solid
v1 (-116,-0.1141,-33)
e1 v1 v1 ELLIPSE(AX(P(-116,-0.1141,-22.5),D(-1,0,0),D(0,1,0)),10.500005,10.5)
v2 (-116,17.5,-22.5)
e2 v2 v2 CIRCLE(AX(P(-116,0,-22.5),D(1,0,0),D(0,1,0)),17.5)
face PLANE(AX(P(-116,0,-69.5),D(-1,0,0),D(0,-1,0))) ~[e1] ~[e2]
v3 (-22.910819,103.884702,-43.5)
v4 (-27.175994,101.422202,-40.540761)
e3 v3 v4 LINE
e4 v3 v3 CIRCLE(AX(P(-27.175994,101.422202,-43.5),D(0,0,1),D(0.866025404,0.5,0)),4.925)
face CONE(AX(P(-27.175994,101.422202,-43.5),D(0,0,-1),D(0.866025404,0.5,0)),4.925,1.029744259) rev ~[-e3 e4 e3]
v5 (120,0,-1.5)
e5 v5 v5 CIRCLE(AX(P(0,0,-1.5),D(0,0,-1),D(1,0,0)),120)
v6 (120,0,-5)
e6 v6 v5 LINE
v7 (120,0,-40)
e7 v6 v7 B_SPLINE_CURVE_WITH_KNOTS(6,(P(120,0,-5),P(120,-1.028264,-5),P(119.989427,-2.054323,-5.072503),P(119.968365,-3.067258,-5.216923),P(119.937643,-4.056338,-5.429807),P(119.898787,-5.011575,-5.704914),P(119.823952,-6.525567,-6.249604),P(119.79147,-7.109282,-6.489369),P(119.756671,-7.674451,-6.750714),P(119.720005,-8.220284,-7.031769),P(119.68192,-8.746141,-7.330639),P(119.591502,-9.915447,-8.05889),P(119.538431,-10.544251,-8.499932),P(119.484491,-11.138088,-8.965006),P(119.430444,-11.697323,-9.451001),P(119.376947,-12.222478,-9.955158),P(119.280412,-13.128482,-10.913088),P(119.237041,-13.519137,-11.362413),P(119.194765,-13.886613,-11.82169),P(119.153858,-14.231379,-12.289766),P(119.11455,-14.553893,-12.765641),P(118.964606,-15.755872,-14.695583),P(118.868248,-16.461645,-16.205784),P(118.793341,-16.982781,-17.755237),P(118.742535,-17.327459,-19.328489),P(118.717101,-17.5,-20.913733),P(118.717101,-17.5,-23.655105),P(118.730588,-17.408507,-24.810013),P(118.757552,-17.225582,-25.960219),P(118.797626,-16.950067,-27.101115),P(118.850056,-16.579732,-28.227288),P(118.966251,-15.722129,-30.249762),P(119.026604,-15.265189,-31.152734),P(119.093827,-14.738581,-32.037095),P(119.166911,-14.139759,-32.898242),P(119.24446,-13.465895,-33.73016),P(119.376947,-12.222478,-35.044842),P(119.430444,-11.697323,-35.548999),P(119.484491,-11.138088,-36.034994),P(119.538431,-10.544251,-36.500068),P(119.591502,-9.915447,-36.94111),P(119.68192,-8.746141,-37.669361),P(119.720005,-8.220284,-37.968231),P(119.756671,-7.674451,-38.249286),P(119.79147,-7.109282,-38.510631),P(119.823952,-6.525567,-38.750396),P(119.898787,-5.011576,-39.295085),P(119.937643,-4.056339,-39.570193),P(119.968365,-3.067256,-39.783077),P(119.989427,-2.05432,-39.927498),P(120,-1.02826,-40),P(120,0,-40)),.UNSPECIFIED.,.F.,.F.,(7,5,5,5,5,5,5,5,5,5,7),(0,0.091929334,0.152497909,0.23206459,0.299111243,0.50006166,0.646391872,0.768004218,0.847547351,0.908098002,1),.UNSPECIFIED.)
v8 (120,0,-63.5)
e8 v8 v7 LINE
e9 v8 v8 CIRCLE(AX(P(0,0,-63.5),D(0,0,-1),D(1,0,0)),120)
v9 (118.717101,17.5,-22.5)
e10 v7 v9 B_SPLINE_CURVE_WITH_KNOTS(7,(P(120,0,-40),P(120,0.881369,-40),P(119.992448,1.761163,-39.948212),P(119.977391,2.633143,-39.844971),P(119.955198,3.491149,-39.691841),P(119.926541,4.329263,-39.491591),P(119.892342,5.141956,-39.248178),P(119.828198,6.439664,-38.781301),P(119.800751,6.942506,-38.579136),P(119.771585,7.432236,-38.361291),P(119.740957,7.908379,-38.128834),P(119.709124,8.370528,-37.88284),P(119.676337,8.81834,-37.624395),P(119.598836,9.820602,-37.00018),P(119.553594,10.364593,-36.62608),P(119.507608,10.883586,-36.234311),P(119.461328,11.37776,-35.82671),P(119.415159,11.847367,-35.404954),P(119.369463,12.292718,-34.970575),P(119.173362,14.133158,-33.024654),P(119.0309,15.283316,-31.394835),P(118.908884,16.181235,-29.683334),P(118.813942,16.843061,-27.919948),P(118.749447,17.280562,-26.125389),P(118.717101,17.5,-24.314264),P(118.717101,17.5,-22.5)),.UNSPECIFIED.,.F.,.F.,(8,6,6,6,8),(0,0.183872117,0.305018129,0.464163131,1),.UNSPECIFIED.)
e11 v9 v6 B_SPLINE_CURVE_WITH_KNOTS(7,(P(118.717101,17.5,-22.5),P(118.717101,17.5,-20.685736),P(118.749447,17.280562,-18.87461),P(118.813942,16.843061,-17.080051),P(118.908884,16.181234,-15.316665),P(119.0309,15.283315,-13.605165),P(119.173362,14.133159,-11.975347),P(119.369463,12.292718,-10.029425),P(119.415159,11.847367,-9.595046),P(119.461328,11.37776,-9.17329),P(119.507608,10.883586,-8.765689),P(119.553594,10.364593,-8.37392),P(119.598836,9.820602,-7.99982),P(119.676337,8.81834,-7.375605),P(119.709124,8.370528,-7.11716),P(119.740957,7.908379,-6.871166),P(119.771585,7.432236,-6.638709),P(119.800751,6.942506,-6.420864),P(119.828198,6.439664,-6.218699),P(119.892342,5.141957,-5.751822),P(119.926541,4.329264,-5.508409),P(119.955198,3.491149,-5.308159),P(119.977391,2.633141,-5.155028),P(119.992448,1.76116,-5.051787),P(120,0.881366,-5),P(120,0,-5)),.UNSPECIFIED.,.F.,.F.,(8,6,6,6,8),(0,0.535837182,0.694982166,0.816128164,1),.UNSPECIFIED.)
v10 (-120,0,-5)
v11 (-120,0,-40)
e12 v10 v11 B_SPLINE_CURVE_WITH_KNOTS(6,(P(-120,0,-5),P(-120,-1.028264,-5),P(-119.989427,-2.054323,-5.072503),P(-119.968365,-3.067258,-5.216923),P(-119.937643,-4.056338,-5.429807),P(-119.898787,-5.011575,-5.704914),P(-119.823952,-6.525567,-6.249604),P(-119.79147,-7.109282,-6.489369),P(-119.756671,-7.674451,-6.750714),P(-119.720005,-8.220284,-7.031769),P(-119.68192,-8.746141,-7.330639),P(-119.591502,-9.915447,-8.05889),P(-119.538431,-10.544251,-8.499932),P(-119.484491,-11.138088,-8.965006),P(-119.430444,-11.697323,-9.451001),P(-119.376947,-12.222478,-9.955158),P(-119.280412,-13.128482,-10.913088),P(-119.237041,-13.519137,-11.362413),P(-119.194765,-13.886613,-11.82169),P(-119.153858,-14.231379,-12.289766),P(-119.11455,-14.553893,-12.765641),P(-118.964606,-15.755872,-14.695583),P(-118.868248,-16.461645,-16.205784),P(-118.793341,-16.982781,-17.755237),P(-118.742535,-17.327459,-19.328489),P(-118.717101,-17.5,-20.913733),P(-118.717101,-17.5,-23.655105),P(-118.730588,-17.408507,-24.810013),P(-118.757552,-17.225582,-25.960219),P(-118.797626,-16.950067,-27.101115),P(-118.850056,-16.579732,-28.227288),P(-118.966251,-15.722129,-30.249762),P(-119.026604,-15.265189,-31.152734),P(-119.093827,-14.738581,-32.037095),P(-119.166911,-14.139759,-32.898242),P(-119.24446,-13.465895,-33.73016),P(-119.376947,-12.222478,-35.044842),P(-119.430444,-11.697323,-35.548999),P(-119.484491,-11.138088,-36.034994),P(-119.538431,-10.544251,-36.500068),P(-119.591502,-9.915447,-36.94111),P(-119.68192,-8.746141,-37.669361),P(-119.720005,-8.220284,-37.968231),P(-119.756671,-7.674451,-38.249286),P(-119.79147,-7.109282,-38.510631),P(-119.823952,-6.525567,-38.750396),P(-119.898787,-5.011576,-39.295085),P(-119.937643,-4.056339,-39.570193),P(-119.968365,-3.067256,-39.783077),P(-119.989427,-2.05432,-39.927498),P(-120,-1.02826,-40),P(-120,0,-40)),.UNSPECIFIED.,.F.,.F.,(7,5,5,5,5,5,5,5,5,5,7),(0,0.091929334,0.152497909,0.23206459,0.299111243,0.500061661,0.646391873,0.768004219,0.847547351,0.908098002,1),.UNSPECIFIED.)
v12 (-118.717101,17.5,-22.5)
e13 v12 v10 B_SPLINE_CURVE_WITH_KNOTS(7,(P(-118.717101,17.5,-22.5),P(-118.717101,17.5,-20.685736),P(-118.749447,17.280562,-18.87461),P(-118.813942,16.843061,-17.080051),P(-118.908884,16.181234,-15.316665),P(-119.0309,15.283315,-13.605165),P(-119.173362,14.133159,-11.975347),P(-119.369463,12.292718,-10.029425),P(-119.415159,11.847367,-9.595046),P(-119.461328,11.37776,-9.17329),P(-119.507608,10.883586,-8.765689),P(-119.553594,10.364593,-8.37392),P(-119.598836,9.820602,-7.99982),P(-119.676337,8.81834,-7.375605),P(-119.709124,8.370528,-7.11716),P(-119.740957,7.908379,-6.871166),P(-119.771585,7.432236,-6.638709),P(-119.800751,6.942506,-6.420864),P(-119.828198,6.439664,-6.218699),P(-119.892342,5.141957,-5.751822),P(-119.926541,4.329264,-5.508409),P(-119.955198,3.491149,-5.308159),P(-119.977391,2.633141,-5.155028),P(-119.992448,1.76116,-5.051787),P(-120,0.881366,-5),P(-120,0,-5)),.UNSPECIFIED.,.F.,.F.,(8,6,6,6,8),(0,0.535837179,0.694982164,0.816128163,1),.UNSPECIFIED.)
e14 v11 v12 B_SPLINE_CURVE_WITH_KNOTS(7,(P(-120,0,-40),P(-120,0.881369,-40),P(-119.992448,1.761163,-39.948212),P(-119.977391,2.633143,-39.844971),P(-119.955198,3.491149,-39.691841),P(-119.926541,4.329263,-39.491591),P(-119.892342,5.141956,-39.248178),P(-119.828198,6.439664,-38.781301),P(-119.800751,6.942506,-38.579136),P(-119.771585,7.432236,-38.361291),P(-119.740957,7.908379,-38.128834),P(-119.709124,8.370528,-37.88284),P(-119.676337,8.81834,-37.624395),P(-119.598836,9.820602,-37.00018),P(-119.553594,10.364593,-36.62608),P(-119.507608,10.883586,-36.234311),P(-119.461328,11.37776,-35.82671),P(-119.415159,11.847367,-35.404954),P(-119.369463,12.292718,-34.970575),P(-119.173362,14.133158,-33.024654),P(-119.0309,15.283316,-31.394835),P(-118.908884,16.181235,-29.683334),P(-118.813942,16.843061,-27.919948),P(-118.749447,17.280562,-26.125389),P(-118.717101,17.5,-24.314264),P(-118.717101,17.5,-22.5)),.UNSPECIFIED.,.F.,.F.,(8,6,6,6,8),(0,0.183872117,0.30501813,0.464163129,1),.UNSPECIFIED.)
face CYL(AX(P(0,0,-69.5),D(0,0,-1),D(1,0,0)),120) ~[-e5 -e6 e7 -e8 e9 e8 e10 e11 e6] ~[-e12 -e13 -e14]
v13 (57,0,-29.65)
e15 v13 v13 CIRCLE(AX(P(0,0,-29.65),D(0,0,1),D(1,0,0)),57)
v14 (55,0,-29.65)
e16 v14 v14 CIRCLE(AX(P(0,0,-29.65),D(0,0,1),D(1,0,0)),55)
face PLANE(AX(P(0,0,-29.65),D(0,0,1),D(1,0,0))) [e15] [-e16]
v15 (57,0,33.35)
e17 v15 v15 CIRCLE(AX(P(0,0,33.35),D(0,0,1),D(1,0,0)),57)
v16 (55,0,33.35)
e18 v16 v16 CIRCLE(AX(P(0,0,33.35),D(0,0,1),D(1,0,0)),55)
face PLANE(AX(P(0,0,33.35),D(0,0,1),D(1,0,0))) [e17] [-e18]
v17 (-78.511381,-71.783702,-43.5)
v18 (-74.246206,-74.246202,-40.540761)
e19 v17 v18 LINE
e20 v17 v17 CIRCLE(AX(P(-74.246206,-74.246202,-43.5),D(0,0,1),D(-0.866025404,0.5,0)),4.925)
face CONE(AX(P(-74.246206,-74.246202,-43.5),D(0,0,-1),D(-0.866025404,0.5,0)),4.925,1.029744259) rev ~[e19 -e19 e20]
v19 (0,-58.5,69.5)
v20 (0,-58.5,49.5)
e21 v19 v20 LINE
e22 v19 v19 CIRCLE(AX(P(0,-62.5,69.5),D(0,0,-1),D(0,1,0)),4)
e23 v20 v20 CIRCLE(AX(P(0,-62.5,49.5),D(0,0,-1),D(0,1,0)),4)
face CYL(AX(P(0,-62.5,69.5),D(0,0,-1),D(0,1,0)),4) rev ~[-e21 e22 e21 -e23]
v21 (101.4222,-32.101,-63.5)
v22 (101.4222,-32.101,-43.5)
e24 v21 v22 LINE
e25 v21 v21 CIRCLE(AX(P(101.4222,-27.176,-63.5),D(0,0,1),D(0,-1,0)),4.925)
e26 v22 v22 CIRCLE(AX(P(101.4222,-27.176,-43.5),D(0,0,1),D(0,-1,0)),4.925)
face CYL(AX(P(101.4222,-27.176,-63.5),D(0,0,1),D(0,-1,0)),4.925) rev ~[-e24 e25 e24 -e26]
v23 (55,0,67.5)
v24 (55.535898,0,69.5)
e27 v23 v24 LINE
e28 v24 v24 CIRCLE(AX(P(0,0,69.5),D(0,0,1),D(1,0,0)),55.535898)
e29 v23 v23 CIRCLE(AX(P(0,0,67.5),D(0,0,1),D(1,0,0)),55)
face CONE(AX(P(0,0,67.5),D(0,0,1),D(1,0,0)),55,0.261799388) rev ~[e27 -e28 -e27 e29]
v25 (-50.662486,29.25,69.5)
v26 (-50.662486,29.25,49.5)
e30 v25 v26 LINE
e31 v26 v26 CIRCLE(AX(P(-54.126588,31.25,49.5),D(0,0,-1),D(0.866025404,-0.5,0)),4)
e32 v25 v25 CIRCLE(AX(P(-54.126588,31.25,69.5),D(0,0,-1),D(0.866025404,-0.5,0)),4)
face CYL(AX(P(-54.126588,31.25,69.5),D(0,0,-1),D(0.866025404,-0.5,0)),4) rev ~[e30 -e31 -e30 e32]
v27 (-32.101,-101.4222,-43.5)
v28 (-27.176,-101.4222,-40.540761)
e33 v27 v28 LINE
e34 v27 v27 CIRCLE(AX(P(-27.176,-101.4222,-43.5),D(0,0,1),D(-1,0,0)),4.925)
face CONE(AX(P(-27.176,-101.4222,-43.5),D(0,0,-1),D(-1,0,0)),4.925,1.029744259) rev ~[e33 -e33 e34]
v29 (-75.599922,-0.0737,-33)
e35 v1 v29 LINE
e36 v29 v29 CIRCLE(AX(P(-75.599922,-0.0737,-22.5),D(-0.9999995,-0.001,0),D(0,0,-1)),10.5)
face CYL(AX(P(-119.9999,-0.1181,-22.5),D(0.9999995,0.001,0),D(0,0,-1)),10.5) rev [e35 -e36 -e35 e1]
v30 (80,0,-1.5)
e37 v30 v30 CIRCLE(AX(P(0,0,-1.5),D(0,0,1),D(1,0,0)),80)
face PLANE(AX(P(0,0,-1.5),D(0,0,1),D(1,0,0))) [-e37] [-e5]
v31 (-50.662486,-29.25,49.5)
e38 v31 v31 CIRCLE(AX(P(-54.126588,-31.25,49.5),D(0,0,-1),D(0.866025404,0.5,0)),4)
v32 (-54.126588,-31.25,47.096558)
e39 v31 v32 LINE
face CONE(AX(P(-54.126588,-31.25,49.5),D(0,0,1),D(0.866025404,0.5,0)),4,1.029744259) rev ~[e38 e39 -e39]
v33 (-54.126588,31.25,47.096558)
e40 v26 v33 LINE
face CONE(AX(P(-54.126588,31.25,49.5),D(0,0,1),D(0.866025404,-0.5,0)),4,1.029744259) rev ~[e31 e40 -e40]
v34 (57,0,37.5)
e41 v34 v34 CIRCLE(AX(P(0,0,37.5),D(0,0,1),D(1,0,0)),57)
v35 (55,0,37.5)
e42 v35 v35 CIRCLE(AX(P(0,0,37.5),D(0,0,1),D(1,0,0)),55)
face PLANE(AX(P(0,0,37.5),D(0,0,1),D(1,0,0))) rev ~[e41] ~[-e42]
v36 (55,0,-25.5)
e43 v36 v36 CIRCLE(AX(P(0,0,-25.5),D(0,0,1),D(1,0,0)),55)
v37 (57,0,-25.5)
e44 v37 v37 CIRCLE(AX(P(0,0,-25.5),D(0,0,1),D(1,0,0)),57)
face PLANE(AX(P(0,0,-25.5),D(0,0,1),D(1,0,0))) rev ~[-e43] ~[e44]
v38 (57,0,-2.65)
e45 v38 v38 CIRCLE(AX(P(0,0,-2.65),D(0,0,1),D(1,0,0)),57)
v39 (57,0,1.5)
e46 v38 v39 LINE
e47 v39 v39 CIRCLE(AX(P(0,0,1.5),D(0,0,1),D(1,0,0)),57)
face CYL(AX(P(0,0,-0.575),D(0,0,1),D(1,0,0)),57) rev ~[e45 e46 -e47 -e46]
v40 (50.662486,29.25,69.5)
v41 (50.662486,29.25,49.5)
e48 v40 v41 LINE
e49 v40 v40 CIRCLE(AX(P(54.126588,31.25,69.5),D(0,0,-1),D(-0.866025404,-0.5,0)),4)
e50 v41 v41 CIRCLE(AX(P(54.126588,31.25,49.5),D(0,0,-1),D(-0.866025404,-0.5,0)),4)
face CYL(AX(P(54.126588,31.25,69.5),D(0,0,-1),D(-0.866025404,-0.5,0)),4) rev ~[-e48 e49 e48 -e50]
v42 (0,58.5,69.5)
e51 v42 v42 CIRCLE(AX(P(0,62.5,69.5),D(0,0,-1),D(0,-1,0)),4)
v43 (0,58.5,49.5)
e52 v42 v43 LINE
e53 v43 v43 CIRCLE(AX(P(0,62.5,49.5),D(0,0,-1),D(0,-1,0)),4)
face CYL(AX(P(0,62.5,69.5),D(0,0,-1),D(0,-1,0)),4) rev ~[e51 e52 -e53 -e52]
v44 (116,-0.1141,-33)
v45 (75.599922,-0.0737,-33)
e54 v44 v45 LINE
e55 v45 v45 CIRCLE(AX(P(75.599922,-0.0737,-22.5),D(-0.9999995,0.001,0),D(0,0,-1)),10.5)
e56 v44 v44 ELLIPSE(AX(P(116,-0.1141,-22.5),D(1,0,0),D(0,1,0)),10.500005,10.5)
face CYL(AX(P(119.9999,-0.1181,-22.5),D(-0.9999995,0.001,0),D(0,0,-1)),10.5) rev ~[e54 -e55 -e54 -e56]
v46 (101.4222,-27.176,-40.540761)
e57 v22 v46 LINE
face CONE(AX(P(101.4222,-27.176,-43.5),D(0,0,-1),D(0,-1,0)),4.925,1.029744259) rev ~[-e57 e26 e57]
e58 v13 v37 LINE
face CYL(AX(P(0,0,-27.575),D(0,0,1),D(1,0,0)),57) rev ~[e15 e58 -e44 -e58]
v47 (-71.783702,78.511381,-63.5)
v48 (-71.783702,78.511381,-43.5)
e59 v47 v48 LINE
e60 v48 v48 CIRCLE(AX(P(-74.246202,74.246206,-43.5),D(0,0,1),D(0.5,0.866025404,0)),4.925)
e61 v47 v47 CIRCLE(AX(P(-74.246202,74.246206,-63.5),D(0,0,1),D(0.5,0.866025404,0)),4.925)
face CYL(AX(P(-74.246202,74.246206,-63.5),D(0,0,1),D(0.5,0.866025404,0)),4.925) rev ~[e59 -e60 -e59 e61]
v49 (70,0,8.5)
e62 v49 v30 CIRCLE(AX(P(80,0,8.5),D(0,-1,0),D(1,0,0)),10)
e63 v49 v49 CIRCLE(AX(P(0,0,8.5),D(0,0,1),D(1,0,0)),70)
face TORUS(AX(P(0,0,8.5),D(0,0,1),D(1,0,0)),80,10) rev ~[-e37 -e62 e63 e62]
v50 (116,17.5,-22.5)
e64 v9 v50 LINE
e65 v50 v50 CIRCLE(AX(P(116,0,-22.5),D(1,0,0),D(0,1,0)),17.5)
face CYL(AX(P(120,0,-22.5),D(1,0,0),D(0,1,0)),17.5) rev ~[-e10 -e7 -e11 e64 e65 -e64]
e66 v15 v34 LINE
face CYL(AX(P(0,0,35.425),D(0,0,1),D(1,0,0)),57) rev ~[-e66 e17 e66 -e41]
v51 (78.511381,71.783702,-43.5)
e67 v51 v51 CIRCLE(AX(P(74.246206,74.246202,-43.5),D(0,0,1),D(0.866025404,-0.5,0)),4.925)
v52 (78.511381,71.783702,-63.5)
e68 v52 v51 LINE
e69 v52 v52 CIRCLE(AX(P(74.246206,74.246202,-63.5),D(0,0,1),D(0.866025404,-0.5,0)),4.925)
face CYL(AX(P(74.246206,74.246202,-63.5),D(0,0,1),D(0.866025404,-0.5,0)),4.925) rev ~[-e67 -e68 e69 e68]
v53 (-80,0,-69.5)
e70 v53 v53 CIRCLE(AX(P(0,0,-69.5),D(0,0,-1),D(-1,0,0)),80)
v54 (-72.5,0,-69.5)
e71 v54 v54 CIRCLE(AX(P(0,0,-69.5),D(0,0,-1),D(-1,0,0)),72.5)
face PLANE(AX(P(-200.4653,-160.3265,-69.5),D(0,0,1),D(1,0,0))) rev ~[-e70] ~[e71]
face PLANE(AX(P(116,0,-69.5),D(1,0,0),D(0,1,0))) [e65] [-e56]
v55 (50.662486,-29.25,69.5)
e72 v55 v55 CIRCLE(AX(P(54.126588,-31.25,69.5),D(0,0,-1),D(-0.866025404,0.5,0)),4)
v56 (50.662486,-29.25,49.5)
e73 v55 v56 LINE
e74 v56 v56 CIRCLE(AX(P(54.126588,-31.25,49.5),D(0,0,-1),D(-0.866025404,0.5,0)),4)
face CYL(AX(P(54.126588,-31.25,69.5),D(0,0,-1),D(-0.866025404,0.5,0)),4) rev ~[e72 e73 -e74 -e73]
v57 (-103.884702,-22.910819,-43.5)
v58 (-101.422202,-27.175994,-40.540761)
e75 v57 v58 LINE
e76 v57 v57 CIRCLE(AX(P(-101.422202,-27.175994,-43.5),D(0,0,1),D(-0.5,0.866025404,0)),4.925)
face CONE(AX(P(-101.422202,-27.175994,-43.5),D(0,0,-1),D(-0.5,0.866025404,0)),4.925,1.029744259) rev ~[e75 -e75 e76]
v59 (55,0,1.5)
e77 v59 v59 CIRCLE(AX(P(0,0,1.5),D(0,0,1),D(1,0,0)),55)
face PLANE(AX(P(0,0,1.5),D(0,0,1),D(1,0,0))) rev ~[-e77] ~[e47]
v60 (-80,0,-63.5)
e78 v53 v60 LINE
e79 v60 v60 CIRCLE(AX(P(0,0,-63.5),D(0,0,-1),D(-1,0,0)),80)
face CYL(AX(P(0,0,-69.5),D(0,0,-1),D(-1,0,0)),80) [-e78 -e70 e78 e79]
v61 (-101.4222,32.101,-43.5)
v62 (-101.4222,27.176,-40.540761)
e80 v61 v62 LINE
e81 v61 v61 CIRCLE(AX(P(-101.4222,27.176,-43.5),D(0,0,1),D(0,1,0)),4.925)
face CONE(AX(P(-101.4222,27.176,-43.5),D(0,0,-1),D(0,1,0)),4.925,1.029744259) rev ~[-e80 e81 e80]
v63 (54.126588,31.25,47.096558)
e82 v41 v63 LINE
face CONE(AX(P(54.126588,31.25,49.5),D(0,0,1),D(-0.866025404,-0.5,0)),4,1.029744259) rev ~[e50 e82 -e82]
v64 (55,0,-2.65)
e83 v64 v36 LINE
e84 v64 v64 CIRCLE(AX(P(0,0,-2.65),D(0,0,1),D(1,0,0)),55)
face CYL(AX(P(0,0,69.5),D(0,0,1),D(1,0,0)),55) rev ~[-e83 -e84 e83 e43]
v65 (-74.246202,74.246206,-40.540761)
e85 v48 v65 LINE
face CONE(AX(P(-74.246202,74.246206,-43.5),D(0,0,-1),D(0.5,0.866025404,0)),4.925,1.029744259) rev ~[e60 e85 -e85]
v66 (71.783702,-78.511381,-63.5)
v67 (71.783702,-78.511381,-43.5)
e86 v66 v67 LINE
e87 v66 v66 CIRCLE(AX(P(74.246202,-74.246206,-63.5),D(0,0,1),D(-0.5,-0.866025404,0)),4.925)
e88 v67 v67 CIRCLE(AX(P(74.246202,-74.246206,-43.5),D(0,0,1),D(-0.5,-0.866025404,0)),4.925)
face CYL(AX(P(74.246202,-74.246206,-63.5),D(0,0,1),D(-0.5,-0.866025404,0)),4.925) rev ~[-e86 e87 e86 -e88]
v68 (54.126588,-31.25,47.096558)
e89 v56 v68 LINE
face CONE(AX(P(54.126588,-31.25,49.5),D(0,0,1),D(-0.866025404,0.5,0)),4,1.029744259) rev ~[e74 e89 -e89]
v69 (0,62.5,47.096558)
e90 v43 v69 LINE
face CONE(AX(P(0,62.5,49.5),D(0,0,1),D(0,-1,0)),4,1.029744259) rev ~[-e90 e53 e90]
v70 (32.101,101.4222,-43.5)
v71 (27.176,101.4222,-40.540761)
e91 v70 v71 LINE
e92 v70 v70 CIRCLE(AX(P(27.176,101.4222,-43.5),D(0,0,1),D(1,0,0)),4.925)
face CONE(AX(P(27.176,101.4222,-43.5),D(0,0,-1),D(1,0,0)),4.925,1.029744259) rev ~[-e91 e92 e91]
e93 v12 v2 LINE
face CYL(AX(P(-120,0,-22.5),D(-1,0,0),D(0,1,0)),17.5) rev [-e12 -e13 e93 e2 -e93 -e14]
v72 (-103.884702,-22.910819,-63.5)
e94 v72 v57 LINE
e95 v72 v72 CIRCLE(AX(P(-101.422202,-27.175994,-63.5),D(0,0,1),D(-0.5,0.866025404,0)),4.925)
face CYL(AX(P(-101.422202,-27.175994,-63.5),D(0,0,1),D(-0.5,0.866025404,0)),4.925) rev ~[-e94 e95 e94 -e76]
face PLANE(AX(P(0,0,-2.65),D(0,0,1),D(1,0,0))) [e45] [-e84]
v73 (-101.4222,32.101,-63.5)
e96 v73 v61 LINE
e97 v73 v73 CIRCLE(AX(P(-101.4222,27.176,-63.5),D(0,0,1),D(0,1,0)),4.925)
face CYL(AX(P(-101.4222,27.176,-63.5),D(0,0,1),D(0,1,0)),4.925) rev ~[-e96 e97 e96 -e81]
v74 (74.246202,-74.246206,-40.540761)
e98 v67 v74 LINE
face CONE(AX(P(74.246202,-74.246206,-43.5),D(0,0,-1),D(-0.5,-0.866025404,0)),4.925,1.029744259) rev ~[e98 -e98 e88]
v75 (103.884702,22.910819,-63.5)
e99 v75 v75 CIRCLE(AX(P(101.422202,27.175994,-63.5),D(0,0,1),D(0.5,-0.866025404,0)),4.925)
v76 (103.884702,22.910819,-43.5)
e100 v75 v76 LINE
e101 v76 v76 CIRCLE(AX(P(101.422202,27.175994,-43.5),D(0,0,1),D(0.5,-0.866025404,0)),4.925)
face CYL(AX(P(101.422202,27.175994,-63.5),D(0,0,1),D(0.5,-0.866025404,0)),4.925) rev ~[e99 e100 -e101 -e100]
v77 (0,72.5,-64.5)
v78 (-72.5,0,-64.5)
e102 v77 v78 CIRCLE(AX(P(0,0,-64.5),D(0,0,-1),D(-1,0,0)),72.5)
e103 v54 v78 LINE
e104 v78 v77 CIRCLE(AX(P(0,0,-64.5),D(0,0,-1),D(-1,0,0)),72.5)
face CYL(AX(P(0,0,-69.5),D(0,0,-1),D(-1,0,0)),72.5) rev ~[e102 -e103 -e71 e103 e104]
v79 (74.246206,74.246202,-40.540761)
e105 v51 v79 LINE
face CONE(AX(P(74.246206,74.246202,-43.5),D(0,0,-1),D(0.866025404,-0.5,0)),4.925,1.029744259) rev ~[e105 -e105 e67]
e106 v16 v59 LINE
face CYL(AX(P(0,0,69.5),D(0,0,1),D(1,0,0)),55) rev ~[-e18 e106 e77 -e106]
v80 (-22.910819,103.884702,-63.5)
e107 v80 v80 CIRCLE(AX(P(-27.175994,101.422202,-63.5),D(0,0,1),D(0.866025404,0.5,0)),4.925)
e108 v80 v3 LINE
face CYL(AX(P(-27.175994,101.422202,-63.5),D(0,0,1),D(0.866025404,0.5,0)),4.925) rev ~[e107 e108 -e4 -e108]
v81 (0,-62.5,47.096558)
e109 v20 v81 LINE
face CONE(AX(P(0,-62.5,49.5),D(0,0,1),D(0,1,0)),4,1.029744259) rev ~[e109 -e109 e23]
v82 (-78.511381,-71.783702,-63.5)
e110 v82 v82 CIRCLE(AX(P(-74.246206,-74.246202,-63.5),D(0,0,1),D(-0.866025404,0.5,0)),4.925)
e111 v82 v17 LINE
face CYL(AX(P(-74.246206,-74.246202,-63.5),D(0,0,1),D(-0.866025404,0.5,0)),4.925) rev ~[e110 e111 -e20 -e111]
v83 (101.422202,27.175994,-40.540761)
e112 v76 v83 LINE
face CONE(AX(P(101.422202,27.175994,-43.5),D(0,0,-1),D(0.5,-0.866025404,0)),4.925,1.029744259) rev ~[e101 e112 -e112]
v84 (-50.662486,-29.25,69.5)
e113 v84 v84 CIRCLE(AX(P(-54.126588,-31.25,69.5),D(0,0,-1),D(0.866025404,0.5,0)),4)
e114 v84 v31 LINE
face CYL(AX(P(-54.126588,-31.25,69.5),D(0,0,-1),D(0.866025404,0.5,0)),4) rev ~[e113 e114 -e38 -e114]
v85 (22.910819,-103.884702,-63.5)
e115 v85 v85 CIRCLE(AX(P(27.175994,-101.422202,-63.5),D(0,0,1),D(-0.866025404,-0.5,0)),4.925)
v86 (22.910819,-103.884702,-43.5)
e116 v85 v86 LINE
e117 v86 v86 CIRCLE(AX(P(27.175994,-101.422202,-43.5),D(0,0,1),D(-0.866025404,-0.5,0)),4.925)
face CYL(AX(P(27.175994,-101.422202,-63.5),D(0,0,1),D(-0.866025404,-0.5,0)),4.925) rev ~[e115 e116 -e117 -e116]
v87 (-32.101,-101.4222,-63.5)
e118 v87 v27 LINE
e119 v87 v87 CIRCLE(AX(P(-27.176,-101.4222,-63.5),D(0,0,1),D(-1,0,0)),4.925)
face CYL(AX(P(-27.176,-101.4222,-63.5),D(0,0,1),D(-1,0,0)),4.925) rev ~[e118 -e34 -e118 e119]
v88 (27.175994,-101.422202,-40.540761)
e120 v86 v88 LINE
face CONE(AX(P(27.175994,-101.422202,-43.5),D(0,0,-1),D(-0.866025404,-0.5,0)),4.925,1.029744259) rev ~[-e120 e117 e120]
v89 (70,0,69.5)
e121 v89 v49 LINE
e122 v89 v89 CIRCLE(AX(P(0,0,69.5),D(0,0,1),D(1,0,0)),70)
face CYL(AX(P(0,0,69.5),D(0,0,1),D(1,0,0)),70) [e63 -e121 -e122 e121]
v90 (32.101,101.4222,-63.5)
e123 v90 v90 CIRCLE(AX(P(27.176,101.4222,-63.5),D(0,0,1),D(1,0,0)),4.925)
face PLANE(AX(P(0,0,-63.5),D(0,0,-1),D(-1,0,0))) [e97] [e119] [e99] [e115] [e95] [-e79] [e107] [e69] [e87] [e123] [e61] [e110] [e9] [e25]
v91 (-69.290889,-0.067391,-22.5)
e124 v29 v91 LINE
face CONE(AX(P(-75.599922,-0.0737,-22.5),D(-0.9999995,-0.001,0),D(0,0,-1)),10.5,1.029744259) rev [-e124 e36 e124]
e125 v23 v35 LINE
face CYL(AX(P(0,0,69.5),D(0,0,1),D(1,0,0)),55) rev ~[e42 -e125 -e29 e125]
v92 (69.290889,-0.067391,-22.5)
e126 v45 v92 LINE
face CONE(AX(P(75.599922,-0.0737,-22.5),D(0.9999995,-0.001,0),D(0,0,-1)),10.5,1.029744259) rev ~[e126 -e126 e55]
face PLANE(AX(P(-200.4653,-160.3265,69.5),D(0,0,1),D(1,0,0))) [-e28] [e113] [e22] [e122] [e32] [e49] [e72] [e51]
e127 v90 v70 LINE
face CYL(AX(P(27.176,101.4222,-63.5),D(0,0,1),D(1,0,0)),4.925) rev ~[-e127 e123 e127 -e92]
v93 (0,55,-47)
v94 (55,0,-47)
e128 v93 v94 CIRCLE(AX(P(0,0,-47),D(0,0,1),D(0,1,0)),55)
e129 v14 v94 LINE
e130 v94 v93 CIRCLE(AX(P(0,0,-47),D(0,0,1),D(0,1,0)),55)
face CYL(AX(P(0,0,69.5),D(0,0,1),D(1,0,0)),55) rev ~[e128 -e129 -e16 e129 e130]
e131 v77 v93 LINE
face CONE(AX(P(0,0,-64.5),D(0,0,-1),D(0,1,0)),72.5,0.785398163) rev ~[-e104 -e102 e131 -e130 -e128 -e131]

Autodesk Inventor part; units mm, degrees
ref_plane "WorkPlane4" through (-200.4653, -160.3265, -69.5) normal (1, 0, 0) x (0, 1, 0)
ref_plane "WorkPlane6" through (149.5347, -160.3265, -69.5) normal (1, 0, 0) x (0, 1, 0)
sketch "Sketch1" plane through (-200.4653, -160.3265, -69.5) normal (0, 0, 1) x (1, 0, 0)
  circle A0 centre (200.4653, 160.3265) radius 120
  dimension "d76" = 240
extrude "ExtrusionBlind1" add sketch "Sketch1" along normal blind 139
ref_plane "WorkPlane7" through (120, 0, -69.5) normal (1, 0, 0) x (0, 1, 0)
ref_plane "WorkPlane1" through (0, 0, 35.425) normal (0, 0, 1) x (1, 0, 0)
ref_plane "WorkPlane9" through (0, 0, -69.5) normal (-0.001, -1, 0) x (1, -0.001, 0)
ref_plane "WorkPlane2" through (0, 0, -0.575) normal (0, 0, 1) x (1, 0, 0)
sketch "Sketch2" plane through (0, 0, 69.5) normal (0, 0, 1) x (1, 0, 0)
  point P0 (0, 62.5)
ref_plane "WorkPlane10" through (119.9999, -0.1181, -69.5) normal (1, -0.001, 0) x (0.001, 1, 0)
sketch "Sketch3" plane through (0, 0, 69.5) normal (0, 0, 1) x (1, 0, 0)
  circle A0 centre (0, 0) radius 55
  circle A1 centre (0, 0) radius 120 projected
  dimension "d77" = 110
extrude "ExtrusionThru1" cut sketch "Sketch3" against normal through all contours A0
ref_plane "WorkPlane3" through (0, 0, -27.575) normal (0, 0, 1) x (1, 0, 0)
sketch "Sketch4" plane through (119.9999, -0.1181, -69.5) normal (1, -0.001, 0) x (0.001, 1, 0)
  point P0 (0, 47)
chamfer "Chamfer1" distance 2 angle 15 1 edges at (-55, 0, 69.5) measured on face at (-51.6831, -18.8111, -23.1667)
sketch "Sketch5" plane through (0, 0, 35.425) normal (0, 0, 1) x (1, 0, 0)
  circle A0 centre (0, 0) radius 57
  circle A1 centre (0, 0) radius 55.5359 projected
  dimension "d78" = 114
extrude "ExtrusionMidplane1" cut sketch "Sketch5" along normal mid plane 4.15 contours A0 | A1
sketch "Sketch6" plane through (0, 0, -0.575) normal (0, 0, 1) x (1, 0, 0)
  circle A0 centre (0, 0) radius 57
  circle A1 centre (0, 0) radius 55.5359 projected
  dimension "d79" = 114
extrude "ExtrusionMidplane2" cut sketch "Sketch6" along normal mid plane 4.15 contours A0 | A1
sketch "Sketch7" plane through (0, 0, -27.575) normal (0, 0, 1) x (1, 0, 0)
  circle A0 centre (0, 0) radius 57
  circle A1 centre (0, 0) radius 55.5359 projected
  dimension "d80" = 114
extrude "ExtrusionMidplane3" cut sketch "Sketch7" along normal mid plane 4.15 contours A0 | A1
sketch "Sketch8" plane through (0, 0, -69.5) normal (0, 0, -1) x (-1, 0, 0)
  circle A0 centre (0, 0) radius 72.5
  circle A1 centre (0, 0) radius 120 projected
  dimension "d81" = 145
extrude "ExtrusionBlind2" cut sketch "Sketch8" against normal blind 5 contours A0
sketch "Sketch9" plane through (0, 0, -64.5) normal (0, 0, -1) x (-1, 0, 0)
  point P0 (0, 0)
hole "AM_HOLE_UCnsk_1" at (0, 0, -64.5) direction (0, 0, 1) diameter 110 depth 34.85 countersink diameter 145 countersink angle 90
hole "Hole1" at (0, 62.5, 69.5) direction (0, 0, -1) diameter 8 depth 20 tip angle 118
pattern_circular "PolarArray1" count 6 over 360 about axis through (0, 0, 69.5) along (0, 0, 1) of "Hole1"
sketch "Sketch13" plane through (0, 0, -69.5) normal (0, 0, -1) x (-1, 0, 0)
  circle A0 centre (0, 0) radius 80
  circle A1 centre (0, 0) radius 135.6604
  circle A2 centre (0, 0) radius 120 projected
  dimension "d82" = 271.3209
  dimension "d83" = 160
extrude "ExtrusionBlind3" cut sketch "Sketch13" against normal blind 6 contours A1 | A2
ref_plane "WorkPlane5" through (0, 0, -22.5) normal (0, 0, -1) x (-1, 0, 0)
ref_plane "WorkPlane8" through (0, 0, -22.5) normal (0, 0, -1) x (-1, 0, 0)
sketch "Sketch14" plane through (0, 0, -63.5) normal (0, 0, -1) x (-1, 0, 0)
  point P0 (101.4222, 27.176)
hole "Hole2" at (-101.4222, 27.176, -63.5) direction (0, 0, 1) diameter 9.85 depth 20 tip angle 118
sketch "Sketch16" plane through (0, 0, -22.5) normal (0, 0, -1) x (-1, 0, 0)
  point P0 (-120, 0)
pattern_circular "PolarArray2" count 12 over 360 about axis through (0, 0, 69.5) along (0, 0, -1) of "Hole2"
sketch "Sketch18" plane through (0, 0, 69.5) normal (0, 0, 1) x (1, 0, 0)
  circle A0 centre (0, 0) radius 70
  circle A1 centre (0, 0) radius 138.6706
  circle A2 centre (0, 0) radius 120 projected
  dimension "d84" = 277.3413
  dimension "d85" = 140
extrude "ExtrusionBlind4" cut sketch "Sketch18" against normal blind 71 contours A1 | A2
fillet "Fillet1" radius 10 1 edges at (-70, 0, -1.5)
sketch "Sketch20" plane through (-200.4653, -160.3265, -69.5) normal (1, 0, 0) x (0, 1, 0)
  line L0 (71.3265, 37) -> (71.3265, 56)
  line L1 (71.3265, 37) -> (40.3265, 37)
  line L2 (40.3265, 56) -> (40.3265, 37)
  line L3 (71.3265, 56) -> (40.3265, 56)
  line L4 (40.3265, 68) -> (280.3265, 68) projected
  dimension "d88" = 31
  dimension "d89" = 19
  dimension "d91" = 12
extrude "ExtrusionThru3" [suppressed]
sketch "Sketch21" plane through (120, 0, -69.5) normal (1, 0, 0) x (0, 1, 0)
  circle A0 centre (0, 47) radius 17.5
  line L0 (-120, 68) -> (120, 68) projected
  dimension "d90" = 35
  dimension "d96" = 21
extrude "ExtrusionBlind5" cut sketch "Sketch21" against normal blind 4
hole "Hole3" at (119.9999, -0.1181, -22.5) direction (-1, 0.001, 0) diameter 21 depth 44.4 tip angle 118
mirror "Mirror1" about plane through (0, 0, 0) normal (1, 0, 0) of "ExtrusionBlind5", "Hole3"
properties part number "7055-193 PART1" material "Steel, Mild"
